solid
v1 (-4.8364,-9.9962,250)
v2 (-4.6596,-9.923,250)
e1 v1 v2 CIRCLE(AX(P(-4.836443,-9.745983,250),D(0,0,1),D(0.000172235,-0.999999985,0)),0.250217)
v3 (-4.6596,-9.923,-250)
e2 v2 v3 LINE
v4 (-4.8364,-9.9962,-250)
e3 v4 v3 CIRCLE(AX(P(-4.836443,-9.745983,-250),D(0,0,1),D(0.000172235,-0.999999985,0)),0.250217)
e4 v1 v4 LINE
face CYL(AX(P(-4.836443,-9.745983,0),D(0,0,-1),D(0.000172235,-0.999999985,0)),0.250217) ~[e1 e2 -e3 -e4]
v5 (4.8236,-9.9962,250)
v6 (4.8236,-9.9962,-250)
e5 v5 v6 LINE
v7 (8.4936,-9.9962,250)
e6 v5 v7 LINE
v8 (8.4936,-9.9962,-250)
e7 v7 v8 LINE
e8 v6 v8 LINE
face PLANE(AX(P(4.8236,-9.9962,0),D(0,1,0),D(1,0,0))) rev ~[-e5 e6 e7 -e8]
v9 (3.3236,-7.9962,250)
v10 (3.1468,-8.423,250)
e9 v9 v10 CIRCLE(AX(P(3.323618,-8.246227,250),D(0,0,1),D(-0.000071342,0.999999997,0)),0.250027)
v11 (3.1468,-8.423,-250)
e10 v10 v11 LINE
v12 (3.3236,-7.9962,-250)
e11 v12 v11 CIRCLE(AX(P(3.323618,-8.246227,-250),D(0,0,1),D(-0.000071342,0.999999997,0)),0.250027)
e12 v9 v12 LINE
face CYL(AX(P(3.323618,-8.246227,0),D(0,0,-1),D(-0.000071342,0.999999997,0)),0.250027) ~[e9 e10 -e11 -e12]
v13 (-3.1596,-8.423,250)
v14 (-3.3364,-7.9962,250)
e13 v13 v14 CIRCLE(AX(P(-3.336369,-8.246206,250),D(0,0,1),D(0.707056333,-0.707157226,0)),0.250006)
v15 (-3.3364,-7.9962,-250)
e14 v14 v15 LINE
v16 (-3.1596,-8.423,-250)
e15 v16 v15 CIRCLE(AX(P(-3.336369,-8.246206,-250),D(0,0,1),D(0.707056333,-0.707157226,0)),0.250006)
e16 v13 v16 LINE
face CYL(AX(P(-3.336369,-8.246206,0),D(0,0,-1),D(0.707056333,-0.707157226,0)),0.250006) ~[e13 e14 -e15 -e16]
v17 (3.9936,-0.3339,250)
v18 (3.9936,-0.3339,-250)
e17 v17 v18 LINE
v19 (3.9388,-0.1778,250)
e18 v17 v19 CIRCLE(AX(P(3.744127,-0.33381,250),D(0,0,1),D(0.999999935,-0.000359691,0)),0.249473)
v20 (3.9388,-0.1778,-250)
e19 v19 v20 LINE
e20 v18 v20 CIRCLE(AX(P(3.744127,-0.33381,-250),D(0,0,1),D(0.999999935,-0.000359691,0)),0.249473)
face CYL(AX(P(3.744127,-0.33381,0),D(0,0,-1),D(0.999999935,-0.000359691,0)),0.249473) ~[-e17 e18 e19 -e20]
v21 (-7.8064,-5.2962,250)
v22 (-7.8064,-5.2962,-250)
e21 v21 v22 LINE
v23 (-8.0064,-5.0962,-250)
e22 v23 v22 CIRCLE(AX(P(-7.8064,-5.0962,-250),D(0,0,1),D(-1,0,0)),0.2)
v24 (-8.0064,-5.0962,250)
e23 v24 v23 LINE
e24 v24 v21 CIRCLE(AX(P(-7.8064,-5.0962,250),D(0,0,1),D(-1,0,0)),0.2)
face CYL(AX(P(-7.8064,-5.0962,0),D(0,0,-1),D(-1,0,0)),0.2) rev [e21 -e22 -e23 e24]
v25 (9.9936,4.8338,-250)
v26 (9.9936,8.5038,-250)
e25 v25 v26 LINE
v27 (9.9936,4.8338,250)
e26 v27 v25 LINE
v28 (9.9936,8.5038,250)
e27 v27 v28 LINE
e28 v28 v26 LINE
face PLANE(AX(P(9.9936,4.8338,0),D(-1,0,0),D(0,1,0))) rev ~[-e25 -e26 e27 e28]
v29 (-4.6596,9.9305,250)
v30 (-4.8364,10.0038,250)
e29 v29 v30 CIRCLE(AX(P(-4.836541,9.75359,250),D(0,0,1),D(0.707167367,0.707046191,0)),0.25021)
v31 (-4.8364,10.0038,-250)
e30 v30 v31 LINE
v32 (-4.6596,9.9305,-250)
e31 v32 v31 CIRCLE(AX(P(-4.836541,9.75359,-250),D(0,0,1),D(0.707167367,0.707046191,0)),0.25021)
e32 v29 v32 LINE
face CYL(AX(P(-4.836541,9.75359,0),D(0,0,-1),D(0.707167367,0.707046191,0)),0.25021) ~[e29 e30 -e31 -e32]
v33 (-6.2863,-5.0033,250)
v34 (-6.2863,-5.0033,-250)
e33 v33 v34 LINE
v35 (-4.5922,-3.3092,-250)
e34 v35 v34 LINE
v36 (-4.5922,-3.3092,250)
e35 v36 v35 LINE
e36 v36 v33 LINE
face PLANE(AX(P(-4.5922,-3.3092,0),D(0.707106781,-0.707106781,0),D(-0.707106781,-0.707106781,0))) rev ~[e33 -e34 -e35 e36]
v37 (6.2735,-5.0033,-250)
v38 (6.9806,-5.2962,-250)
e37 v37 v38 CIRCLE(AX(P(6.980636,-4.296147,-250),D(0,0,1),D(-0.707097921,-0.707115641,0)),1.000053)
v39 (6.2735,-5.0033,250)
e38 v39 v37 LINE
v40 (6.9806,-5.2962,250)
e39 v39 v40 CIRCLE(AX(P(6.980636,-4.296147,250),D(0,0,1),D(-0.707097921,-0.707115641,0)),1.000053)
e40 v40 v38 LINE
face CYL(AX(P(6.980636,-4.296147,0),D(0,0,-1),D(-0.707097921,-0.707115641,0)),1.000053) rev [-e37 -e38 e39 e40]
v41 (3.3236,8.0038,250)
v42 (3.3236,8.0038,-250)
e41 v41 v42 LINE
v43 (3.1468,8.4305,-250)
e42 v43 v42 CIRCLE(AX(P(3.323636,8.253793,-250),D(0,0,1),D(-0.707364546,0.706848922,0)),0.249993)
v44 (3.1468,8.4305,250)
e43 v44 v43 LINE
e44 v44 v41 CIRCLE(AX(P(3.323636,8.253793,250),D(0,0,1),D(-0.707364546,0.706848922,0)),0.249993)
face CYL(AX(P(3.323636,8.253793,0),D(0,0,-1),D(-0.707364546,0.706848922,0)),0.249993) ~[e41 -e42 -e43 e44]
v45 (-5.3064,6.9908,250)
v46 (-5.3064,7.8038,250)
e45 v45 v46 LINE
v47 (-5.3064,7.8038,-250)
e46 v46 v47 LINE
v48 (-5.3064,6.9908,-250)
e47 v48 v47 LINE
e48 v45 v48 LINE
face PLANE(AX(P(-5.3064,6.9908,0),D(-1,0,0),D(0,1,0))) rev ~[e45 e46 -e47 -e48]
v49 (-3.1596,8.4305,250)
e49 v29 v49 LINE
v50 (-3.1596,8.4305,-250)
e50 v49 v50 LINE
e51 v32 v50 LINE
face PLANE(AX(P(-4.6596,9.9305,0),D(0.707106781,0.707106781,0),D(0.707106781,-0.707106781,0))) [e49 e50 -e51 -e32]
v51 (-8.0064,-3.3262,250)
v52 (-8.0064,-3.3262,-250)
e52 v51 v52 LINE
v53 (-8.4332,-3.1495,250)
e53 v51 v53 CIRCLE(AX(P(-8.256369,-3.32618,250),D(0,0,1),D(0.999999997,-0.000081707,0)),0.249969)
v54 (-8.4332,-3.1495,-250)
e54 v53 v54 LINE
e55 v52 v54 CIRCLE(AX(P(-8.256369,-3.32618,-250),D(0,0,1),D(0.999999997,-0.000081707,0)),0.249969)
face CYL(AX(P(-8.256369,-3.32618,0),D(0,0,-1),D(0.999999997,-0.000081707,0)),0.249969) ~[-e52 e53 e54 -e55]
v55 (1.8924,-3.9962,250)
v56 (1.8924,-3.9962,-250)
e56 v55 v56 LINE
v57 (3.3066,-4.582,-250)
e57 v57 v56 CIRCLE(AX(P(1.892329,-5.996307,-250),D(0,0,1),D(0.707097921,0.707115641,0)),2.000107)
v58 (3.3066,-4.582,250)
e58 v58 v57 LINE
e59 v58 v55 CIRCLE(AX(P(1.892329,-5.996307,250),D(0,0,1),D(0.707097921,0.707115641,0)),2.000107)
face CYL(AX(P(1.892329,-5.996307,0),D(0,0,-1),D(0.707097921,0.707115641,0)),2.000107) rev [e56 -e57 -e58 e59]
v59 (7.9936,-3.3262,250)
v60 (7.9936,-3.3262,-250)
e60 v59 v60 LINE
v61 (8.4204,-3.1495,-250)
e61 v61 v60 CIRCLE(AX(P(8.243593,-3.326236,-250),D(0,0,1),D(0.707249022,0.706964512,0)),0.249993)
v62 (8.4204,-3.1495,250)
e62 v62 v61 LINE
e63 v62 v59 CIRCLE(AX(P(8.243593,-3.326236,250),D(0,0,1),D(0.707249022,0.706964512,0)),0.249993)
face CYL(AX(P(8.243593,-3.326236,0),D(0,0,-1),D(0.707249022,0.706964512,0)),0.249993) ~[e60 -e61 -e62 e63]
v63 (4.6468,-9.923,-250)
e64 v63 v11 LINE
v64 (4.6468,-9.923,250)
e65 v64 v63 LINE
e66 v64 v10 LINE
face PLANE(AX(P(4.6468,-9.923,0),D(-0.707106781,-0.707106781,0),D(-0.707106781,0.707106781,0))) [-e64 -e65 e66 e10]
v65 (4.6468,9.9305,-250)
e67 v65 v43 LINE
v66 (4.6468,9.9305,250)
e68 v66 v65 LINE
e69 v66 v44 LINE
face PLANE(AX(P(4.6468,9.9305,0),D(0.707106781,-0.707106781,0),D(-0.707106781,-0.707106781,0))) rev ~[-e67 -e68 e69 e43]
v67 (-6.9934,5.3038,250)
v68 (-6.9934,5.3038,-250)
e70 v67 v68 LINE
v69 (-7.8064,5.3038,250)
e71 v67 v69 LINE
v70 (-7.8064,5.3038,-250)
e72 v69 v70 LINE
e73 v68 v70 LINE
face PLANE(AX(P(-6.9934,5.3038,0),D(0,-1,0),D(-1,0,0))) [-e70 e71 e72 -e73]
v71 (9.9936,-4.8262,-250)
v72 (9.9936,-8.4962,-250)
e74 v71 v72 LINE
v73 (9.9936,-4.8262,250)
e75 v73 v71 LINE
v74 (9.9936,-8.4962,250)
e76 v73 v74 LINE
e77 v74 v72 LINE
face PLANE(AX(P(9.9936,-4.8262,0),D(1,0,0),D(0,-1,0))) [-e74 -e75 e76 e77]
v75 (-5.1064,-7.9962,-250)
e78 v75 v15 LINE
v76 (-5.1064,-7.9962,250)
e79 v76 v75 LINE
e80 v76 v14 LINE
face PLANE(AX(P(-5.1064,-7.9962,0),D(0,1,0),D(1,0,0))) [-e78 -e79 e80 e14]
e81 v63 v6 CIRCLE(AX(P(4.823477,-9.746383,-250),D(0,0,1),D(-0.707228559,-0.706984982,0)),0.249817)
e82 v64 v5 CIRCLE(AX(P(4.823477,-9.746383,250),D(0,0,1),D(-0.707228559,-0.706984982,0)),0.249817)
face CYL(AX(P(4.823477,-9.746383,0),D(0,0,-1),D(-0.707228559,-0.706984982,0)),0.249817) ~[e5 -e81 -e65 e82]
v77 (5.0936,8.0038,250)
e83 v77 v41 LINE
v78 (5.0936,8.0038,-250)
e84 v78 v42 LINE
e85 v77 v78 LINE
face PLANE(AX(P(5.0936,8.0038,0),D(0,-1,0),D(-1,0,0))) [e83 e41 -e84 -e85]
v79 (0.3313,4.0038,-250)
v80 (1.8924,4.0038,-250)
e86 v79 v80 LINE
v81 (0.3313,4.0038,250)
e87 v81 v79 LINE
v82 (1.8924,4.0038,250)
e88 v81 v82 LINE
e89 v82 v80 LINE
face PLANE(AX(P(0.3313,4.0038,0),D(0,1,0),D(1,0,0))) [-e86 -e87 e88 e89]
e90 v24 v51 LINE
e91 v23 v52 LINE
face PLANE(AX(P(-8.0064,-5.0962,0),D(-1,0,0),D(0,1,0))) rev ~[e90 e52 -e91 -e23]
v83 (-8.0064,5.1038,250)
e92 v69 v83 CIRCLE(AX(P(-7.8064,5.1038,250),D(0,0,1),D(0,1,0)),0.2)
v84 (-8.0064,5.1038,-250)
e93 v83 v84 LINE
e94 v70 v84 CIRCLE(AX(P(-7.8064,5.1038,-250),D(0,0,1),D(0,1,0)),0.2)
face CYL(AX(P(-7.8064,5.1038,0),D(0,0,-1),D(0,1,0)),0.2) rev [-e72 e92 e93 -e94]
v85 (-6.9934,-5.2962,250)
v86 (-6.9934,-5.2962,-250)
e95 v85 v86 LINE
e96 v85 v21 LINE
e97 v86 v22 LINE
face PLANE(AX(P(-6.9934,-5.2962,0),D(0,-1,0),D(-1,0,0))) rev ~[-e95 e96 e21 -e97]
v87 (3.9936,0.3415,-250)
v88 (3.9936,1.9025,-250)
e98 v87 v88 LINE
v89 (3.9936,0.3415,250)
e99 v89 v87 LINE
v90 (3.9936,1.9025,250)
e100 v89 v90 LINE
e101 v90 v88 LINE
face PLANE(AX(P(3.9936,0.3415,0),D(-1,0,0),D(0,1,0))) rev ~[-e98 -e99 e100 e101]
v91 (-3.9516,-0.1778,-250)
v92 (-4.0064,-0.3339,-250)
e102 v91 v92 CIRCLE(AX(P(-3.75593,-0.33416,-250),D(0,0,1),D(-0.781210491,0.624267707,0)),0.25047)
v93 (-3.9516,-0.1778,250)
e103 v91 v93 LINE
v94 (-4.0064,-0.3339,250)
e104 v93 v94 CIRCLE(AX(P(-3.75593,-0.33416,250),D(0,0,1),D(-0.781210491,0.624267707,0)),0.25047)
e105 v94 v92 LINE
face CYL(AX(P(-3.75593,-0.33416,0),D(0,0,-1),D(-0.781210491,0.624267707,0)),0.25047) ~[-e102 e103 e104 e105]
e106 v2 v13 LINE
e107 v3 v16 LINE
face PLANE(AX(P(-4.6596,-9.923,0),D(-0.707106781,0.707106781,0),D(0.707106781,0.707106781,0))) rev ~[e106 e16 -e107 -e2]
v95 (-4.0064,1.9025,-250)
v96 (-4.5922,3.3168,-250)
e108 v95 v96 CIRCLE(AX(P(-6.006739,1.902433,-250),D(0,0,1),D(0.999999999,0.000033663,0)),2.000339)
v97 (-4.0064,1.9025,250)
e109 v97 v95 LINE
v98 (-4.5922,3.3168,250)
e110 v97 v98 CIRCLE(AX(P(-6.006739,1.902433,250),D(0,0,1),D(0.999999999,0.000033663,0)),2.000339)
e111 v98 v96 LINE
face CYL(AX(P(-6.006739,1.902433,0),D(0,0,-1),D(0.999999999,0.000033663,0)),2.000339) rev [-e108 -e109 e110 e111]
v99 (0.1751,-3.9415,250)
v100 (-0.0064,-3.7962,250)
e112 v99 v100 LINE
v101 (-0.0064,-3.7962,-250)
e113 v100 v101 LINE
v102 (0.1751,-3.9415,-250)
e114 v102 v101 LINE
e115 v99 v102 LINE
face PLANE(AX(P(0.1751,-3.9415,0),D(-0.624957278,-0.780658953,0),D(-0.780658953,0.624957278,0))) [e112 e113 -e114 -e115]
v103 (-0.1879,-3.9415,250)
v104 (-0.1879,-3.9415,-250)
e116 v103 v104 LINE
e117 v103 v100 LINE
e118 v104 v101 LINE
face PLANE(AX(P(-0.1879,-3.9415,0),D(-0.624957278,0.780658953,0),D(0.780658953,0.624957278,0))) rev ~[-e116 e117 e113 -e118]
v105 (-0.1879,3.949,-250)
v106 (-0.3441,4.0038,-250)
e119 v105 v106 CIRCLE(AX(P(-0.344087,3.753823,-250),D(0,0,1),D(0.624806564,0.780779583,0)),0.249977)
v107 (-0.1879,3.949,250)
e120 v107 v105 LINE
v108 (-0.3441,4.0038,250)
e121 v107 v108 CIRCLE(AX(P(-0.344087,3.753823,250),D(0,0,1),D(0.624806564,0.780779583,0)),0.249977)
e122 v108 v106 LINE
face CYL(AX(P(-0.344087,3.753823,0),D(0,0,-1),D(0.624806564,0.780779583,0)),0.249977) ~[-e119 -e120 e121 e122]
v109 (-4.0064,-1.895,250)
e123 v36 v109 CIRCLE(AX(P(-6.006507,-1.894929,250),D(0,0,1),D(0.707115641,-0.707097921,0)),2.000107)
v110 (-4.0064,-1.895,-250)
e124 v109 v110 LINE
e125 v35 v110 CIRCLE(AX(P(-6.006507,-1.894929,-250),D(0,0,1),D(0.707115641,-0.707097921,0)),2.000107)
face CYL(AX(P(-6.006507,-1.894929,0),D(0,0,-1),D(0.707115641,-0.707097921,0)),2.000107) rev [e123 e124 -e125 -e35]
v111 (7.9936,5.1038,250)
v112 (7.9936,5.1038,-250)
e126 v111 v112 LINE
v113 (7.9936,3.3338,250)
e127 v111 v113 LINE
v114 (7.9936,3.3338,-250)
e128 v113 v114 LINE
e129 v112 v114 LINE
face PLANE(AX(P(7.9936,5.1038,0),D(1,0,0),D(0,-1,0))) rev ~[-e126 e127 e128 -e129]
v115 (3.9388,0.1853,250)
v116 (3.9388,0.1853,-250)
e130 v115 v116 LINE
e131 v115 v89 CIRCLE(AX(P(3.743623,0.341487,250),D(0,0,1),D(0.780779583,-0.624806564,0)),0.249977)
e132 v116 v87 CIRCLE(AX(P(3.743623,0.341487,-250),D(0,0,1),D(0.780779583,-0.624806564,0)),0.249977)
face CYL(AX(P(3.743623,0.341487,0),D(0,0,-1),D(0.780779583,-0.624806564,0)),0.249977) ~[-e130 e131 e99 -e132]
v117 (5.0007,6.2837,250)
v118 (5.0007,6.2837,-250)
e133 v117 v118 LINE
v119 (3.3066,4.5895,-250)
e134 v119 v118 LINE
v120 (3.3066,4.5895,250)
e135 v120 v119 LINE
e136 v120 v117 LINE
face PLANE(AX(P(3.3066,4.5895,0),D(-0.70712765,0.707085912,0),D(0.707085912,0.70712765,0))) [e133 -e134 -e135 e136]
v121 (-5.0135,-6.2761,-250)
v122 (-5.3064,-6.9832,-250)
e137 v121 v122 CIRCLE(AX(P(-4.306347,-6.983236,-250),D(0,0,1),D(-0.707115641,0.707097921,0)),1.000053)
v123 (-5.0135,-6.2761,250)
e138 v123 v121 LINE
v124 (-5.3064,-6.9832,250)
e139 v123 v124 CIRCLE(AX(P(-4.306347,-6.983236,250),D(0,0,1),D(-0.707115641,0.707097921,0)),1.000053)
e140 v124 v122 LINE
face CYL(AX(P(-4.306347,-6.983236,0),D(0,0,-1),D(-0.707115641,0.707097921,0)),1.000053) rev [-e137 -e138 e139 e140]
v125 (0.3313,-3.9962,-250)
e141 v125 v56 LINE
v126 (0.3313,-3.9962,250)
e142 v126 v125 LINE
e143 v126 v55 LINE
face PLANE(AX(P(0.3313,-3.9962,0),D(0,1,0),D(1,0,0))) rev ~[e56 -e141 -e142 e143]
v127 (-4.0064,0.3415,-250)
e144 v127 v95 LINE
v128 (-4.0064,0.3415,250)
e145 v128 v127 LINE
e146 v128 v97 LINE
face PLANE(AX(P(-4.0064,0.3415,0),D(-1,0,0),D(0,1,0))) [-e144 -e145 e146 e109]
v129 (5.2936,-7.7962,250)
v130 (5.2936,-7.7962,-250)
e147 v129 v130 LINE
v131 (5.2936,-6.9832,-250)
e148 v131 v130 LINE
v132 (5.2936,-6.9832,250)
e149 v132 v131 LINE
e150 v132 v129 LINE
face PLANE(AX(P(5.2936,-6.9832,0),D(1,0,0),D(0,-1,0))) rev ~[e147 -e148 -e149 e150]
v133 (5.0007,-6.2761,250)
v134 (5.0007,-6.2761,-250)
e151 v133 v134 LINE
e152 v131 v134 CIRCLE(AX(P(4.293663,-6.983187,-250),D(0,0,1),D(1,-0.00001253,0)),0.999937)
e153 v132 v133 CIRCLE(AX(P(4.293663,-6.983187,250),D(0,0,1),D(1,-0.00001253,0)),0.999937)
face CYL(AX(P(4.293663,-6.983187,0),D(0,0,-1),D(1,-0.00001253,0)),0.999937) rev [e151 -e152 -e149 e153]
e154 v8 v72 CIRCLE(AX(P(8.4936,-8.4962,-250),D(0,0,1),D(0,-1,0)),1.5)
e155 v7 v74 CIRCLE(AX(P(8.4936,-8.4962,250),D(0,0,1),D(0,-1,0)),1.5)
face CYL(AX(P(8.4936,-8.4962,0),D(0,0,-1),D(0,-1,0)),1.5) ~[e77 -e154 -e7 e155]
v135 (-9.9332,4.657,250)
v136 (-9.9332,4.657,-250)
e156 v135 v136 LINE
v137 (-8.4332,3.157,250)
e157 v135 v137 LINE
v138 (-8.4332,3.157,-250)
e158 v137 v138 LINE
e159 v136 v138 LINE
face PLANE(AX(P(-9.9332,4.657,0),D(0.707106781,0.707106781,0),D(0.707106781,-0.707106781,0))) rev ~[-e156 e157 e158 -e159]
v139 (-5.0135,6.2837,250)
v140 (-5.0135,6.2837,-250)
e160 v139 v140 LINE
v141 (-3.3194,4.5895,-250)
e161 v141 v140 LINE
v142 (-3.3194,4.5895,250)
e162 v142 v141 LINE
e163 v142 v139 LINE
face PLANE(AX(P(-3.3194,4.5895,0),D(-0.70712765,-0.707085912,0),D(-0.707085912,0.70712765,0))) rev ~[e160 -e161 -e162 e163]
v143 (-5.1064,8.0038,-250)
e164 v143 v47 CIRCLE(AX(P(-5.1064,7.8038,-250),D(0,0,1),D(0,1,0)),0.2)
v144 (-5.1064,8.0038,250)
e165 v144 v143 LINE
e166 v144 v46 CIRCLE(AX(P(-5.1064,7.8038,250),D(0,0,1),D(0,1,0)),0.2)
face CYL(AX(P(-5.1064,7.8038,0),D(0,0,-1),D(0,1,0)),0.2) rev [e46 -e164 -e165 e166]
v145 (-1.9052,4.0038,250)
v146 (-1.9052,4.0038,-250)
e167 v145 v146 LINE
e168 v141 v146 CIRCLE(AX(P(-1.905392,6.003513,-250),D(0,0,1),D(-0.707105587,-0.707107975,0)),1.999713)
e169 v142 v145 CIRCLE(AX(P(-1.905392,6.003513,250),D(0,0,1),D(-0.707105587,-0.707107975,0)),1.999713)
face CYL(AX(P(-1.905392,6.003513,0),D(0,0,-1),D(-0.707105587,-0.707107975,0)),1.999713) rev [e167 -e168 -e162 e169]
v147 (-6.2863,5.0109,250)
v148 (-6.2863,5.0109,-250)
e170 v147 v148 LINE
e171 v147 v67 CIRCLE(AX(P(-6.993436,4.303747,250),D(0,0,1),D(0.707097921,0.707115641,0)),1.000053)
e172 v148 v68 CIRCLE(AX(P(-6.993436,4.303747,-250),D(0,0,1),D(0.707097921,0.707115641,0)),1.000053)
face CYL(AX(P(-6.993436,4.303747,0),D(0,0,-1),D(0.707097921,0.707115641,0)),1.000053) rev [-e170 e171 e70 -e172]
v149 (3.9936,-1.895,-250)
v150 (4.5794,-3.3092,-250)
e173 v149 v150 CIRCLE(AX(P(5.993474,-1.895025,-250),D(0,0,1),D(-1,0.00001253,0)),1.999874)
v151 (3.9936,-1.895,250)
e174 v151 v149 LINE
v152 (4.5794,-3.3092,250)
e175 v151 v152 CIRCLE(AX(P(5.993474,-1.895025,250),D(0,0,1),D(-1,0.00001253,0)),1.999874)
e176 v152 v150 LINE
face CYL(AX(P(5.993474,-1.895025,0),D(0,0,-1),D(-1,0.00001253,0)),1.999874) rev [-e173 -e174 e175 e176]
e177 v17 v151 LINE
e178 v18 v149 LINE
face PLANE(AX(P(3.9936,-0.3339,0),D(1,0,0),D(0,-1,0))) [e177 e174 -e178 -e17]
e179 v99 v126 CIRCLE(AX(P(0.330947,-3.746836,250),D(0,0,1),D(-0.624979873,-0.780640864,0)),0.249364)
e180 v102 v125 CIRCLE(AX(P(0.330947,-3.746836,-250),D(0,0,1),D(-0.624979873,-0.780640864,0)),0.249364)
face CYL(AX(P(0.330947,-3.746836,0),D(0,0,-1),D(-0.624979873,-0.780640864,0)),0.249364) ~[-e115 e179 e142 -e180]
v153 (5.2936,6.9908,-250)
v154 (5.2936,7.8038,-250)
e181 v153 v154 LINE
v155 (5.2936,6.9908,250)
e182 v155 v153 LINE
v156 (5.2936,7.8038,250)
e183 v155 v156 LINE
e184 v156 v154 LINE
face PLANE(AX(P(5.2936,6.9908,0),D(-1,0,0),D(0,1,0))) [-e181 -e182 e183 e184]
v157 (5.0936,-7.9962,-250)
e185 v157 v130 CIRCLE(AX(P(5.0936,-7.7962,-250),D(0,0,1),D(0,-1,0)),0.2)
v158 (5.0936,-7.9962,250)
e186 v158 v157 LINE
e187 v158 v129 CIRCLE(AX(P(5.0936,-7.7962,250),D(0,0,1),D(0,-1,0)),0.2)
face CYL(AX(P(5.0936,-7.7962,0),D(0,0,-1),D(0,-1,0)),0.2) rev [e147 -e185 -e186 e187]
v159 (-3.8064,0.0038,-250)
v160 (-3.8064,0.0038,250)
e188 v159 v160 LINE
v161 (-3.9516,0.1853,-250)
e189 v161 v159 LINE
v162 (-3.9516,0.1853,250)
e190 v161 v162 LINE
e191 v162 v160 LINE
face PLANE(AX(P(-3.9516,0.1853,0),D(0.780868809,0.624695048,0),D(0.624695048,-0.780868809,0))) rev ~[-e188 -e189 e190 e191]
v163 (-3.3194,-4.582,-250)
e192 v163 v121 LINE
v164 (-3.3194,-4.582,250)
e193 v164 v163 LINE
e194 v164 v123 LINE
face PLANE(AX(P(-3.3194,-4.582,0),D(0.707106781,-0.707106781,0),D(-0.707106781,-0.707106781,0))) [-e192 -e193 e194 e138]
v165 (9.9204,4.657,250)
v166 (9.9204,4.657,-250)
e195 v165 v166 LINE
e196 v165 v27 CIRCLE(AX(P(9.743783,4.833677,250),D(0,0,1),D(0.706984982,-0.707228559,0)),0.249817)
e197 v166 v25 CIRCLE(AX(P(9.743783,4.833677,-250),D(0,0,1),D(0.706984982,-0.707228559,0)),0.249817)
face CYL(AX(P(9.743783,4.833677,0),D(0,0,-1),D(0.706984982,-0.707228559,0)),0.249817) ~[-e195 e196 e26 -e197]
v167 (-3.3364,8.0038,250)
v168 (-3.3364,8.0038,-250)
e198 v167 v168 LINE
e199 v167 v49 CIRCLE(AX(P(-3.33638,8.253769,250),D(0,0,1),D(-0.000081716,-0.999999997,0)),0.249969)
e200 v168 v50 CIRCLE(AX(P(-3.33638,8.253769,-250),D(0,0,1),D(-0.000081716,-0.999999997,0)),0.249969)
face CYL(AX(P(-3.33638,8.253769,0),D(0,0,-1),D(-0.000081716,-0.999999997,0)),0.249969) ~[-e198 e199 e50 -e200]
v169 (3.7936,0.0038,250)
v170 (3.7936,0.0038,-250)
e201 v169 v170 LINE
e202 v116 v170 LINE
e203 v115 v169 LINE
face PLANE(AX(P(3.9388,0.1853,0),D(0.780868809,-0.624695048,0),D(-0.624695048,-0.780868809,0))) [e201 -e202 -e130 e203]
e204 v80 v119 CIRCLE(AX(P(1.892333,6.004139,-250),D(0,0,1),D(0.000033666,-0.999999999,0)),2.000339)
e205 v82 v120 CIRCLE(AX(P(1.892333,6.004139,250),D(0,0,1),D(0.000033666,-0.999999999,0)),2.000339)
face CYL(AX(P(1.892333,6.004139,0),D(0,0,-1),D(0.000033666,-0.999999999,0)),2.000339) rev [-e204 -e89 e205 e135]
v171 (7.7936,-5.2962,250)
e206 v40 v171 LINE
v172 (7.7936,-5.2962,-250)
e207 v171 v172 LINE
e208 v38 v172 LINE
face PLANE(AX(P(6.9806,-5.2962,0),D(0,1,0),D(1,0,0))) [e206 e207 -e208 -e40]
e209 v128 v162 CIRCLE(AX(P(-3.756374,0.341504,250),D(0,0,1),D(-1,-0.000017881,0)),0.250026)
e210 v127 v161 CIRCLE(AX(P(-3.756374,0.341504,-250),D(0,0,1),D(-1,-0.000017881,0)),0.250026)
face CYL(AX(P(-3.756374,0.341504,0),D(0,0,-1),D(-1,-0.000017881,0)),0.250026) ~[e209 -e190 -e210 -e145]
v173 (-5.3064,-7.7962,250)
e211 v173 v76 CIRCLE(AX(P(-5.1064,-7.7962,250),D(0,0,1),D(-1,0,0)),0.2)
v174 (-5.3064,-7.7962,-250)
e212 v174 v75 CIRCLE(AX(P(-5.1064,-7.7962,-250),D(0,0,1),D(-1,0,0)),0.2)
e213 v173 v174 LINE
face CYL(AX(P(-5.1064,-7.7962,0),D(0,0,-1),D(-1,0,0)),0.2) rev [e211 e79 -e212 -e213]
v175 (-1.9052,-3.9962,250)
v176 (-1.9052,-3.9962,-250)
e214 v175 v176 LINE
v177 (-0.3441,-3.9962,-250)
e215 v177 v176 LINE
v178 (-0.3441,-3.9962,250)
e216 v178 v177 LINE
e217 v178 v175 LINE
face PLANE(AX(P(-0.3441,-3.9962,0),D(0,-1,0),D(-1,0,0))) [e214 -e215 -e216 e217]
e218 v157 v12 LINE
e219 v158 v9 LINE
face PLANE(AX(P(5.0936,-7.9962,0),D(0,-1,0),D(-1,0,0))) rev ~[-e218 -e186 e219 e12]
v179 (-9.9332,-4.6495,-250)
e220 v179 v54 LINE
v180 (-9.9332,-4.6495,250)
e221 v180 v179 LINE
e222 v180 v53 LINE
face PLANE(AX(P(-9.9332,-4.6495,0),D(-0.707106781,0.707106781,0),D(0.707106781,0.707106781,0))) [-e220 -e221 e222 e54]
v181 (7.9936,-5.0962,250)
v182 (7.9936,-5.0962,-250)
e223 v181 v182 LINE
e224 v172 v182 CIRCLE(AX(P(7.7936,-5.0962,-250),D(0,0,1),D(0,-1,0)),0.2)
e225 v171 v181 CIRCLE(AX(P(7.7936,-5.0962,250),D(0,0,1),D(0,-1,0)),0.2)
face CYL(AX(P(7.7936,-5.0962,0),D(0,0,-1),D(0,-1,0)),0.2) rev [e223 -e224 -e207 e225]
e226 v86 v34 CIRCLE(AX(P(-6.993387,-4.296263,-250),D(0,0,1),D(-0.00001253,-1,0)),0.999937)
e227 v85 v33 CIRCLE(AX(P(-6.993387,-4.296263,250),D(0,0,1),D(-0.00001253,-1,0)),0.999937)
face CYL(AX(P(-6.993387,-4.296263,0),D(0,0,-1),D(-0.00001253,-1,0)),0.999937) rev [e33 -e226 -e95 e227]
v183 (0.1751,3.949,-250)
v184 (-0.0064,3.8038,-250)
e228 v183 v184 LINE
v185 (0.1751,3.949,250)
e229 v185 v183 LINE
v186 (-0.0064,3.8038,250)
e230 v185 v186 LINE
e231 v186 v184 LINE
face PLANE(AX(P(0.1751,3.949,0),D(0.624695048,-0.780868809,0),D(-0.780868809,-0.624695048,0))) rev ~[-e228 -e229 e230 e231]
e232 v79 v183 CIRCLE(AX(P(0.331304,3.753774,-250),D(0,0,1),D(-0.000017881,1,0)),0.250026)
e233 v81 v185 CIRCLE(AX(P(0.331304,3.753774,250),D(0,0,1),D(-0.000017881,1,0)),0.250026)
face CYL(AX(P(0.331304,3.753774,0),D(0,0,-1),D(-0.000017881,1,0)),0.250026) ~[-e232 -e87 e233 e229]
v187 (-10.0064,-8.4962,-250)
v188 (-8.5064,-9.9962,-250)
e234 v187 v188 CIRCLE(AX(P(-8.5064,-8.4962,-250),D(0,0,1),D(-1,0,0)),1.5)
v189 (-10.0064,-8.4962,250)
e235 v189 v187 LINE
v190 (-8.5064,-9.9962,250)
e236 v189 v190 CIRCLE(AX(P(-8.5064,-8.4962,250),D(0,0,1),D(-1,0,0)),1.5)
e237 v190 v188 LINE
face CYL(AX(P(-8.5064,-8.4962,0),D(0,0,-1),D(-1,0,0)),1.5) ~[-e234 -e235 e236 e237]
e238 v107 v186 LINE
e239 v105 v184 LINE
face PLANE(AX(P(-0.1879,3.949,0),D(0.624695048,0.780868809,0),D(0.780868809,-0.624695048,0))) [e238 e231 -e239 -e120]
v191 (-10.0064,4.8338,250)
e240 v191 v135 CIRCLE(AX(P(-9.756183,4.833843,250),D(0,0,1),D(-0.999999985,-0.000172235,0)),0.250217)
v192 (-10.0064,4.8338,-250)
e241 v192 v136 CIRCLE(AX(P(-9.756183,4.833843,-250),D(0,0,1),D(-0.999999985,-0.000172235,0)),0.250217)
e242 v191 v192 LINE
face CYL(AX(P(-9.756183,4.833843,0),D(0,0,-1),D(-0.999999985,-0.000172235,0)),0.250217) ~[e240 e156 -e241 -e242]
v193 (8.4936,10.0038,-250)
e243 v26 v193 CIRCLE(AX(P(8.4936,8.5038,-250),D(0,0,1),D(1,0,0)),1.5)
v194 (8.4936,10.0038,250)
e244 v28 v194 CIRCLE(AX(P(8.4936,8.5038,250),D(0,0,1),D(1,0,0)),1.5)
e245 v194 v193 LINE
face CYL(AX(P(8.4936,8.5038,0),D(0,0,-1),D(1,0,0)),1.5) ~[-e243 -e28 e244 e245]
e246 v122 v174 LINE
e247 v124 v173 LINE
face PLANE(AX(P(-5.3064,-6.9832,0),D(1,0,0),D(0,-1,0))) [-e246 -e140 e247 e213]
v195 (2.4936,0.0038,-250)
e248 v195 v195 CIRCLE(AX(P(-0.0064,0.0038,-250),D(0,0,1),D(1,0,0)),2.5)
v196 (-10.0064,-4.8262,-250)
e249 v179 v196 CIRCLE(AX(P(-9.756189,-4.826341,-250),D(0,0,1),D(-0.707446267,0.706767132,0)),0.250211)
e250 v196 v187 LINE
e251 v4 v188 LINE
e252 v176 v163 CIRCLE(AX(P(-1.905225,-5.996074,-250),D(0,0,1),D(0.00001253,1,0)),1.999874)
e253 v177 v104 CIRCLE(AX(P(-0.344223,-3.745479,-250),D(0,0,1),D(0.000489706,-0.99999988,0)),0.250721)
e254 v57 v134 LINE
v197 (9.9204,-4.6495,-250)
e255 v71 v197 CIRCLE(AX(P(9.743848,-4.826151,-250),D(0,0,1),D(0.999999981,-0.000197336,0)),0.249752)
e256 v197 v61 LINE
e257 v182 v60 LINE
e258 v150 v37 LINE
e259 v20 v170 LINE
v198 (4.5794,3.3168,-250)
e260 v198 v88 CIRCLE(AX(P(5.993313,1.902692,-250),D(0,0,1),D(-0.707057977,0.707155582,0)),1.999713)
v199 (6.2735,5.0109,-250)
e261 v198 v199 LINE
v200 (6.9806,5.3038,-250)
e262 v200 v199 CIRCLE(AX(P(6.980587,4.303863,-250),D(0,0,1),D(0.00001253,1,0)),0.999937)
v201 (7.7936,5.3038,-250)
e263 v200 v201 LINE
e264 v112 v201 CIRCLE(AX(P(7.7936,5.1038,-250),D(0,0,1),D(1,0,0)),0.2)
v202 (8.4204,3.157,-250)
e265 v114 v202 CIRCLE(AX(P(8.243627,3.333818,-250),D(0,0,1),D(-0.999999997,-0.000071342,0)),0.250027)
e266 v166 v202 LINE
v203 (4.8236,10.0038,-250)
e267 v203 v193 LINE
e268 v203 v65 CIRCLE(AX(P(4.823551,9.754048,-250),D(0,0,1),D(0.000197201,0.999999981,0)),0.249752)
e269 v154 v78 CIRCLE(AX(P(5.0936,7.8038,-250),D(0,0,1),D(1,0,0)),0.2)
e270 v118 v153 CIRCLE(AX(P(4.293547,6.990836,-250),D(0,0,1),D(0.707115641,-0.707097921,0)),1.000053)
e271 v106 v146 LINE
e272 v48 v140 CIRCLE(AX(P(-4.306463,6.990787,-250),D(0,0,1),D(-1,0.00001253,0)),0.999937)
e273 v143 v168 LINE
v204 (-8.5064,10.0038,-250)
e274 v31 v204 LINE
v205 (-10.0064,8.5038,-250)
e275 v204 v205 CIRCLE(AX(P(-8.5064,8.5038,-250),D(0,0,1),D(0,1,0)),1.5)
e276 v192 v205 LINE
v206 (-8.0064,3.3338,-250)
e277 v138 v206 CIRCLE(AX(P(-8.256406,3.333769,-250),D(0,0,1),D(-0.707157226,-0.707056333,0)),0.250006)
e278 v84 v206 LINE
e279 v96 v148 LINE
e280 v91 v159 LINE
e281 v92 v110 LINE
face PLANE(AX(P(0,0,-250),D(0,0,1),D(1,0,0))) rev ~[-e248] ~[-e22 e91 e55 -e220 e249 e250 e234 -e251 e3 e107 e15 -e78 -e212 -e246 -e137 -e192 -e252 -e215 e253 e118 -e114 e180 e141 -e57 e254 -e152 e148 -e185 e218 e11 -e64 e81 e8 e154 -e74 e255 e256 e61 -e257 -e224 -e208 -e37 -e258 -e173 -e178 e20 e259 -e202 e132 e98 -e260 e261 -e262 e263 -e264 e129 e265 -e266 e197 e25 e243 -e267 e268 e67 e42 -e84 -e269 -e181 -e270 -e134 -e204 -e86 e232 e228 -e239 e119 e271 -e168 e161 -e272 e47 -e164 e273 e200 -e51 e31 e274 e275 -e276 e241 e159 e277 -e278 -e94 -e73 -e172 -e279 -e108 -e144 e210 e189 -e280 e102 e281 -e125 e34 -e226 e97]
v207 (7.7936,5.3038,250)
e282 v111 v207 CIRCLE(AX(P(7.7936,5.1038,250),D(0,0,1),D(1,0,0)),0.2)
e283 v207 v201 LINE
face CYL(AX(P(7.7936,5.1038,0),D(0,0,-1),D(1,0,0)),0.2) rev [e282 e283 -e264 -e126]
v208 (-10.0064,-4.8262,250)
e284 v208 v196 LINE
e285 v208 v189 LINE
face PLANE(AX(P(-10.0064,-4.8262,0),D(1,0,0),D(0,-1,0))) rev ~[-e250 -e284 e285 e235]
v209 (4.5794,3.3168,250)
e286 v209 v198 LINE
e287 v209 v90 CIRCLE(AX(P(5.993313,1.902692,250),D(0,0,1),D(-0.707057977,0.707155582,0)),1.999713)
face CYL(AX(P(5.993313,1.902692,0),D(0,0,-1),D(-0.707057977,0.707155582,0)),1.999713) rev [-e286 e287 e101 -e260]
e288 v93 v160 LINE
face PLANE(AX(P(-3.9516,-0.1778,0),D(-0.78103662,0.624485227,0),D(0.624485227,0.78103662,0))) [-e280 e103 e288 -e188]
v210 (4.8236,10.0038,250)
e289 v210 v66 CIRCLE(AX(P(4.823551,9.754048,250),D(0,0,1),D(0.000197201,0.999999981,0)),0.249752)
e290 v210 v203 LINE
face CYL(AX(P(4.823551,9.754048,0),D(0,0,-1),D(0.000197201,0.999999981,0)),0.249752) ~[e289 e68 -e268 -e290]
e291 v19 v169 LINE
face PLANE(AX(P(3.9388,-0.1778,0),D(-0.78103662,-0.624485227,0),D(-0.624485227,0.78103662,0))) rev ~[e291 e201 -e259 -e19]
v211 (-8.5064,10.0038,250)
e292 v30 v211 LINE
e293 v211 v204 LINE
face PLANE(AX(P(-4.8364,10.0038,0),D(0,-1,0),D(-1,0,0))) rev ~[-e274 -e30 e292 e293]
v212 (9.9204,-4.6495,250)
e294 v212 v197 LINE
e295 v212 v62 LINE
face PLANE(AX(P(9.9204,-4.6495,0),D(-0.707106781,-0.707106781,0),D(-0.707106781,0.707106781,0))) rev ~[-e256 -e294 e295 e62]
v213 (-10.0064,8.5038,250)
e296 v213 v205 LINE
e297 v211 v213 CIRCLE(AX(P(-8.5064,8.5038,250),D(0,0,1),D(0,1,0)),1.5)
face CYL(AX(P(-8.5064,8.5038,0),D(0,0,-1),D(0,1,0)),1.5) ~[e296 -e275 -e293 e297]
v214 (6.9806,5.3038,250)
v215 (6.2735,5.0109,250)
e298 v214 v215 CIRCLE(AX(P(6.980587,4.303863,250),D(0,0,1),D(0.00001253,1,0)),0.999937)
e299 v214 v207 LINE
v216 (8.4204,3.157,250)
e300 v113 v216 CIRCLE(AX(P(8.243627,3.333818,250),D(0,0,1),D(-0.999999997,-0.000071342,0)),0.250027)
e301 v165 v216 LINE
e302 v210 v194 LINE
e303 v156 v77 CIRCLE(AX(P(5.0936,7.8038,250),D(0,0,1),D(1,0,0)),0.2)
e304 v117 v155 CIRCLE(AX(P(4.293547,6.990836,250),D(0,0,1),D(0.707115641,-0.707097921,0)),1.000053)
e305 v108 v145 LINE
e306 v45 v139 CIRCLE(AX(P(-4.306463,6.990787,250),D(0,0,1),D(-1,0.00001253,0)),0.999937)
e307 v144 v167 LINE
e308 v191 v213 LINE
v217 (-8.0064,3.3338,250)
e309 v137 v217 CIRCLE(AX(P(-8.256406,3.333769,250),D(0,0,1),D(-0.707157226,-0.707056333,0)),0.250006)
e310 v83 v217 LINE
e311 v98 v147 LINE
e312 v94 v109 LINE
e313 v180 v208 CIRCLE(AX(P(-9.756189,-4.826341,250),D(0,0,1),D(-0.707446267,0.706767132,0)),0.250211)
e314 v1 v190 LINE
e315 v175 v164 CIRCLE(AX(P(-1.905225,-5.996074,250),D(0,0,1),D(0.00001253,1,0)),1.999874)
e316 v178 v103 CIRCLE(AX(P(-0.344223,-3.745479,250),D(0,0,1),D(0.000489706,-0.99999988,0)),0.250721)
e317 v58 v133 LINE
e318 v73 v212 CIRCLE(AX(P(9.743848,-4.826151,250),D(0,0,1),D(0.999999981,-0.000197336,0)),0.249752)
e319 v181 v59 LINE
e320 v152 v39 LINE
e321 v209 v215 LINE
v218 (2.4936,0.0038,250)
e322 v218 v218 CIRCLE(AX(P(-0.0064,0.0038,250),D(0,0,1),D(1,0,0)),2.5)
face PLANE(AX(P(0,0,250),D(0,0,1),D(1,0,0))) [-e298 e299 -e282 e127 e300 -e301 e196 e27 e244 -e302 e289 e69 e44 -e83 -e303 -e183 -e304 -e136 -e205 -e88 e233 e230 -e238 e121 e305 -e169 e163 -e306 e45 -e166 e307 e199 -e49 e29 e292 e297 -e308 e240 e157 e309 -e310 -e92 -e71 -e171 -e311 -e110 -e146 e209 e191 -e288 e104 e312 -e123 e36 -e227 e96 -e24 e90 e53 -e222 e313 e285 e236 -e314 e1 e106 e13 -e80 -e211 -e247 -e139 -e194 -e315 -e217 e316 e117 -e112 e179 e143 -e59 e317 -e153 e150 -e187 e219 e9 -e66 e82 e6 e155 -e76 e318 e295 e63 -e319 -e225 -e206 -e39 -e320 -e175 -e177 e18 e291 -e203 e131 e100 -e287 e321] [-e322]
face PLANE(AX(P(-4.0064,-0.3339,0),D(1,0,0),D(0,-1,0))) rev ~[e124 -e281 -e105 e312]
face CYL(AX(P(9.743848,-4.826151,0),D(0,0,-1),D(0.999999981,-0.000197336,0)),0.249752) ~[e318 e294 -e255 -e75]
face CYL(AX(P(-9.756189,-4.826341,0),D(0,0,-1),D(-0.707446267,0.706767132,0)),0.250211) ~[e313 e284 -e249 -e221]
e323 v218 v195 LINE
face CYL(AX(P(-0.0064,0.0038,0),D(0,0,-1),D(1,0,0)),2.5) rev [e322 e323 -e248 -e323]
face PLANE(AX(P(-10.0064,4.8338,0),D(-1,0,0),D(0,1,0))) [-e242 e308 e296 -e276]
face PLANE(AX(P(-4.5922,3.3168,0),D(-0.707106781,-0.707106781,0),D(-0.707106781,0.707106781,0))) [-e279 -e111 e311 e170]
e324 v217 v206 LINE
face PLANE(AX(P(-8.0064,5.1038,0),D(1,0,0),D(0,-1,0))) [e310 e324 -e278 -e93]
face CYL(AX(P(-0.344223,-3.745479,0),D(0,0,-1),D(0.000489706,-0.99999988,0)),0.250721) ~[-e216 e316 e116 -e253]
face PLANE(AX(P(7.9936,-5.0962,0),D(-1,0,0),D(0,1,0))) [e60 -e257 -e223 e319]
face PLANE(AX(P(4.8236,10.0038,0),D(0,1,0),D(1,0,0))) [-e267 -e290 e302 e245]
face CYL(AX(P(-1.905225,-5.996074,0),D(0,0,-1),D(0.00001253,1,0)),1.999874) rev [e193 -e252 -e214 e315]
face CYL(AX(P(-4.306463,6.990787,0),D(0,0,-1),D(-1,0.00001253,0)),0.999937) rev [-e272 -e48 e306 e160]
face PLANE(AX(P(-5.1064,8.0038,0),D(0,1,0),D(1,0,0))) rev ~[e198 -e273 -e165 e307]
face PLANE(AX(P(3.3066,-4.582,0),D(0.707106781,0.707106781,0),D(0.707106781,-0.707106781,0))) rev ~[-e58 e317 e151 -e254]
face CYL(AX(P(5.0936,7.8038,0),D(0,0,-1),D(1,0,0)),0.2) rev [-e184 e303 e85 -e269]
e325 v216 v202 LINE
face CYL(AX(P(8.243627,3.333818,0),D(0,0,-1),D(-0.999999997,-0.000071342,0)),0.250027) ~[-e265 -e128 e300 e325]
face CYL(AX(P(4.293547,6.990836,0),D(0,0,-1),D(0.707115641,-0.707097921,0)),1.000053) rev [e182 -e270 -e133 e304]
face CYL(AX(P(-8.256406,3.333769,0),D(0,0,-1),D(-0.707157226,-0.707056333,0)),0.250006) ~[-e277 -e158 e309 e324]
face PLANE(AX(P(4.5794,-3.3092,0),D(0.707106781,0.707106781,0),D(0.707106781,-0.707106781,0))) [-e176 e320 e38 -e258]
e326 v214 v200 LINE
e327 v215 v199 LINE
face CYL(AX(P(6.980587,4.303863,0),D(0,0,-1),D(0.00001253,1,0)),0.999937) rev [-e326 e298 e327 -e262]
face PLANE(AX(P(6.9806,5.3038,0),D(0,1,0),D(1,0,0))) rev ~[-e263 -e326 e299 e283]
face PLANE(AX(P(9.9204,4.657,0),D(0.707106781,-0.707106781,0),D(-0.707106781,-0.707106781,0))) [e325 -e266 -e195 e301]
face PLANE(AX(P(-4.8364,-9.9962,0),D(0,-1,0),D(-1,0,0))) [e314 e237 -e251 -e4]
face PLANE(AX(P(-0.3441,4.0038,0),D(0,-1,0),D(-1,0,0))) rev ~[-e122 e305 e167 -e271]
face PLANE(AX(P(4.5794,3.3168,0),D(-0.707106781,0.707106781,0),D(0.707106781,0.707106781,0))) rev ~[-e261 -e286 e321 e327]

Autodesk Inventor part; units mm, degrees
ref_plane "YZ Plane" through (0, 0, 0) normal (1, 0, 0) x (0, 1, 0)
ref_plane "XZ Plane" through (0, 0, 0) normal (0, 1, 0) x (-1, 0, 0)
ref_plane "XY Plane" through (0, 0, 0) normal (0, 0, 1) x (1, 0, 0)
sketch "Эскиз1" plane through (0, 0, 0) normal (0, 0, 1) x (1, 0, 0)
  line L0 (-3.9516, 0.1853) -> (-3.8064, 0.0038)
  line L1 (-3.9516, -0.1778) -> (-3.8064, 0.0038)
  arc A0 (-3.9516, -0.1778) -> (-4.0064, -0.3339) centre (-3.7564, -0.3339) ccw
  line L2 (-4.0064, -0.3339) -> (-4.0064, -1.895)
  arc A1 (-4.5922, -3.3092) -> (-4.0064, -1.895) centre (-6.0064, -1.895) ccw
  line L3 (-4.5922, -3.3092) -> (-6.2863, -5.0033)
  arc A2 (-6.9934, -5.2962) -> (-6.2863, -5.0033) centre (-6.9934, -4.2962) ccw
  line L4 (-6.9934, -5.2962) -> (-7.8064, -5.2962)
  arc A3 (-8.0064, -5.0962) -> (-7.8064, -5.2962) centre (-7.8064, -5.0962) ccw
  line L5 (-8.0064, -5.0962) -> (-8.0064, -3.3262)
  arc A4 (-8.0064, -3.3262) -> (-8.4332, -3.1495) centre (-8.2564, -3.3262) ccw
  line L6 (-9.9332, -4.6495) -> (-8.4332, -3.1495)
  arc A5 (-9.9332, -4.6495) -> (-10.0064, -4.8262) centre (-9.7564, -4.8262) ccw
  line L7 (-10.0064, -4.8262) -> (-10.0064, -8.4962)
  arc A6 (-10.0064, -8.4962) -> (-8.5064, -9.9962) centre (-8.5064, -8.4962) ccw
  line L8 (-4.8364, -9.9962) -> (-8.5064, -9.9962)
  arc A7 (-4.8364, -9.9962) -> (-4.6596, -9.923) centre (-4.8364, -9.7462) ccw
  line L9 (-4.6596, -9.923) -> (-3.1596, -8.423)
  arc A8 (-3.1596, -8.423) -> (-3.3364, -7.9962) centre (-3.3364, -8.2462) ccw
  line L10 (-5.1064, -7.9962) -> (-3.3364, -7.9962)
  arc A9 (-5.3064, -7.7962) -> (-5.1064, -7.9962) centre (-5.1064, -7.7962) ccw
  line L11 (-5.3064, -6.9832) -> (-5.3064, -7.7962)
  arc A10 (-5.0135, -6.2761) -> (-5.3064, -6.9832) centre (-4.3064, -6.9832) ccw
  line L12 (-3.3194, -4.582) -> (-5.0135, -6.2761)
  arc A11 (-1.9052, -3.9962) -> (-3.3194, -4.582) centre (-1.9052, -5.9962) ccw
  line L13 (-0.3441, -3.9962) -> (-1.9052, -3.9962)
  arc A12 (-0.3441, -3.9962) -> (-0.1879, -3.9415) centre (-0.3441, -3.7462) ccw
  line L14 (-0.1879, -3.9415) -> (-0.0064, -3.7962)
  line L15 (0.1751, -3.9415) -> (-0.0064, -3.7962)
  arc A13 (0.1751, -3.9415) -> (0.3313, -3.9962) centre (0.3313, -3.7462) ccw
  line L16 (0.3313, -3.9962) -> (1.8924, -3.9962)
  arc A14 (3.3066, -4.582) -> (1.8924, -3.9962) centre (1.8924, -5.9962) ccw
  line L17 (3.3066, -4.582) -> (5.0007, -6.2761)
  arc A15 (5.2936, -6.9832) -> (5.0007, -6.2761) centre (4.2936, -6.9832) ccw
  line L18 (5.2936, -6.9832) -> (5.2936, -7.7962)
  arc A16 (5.0936, -7.9962) -> (5.2936, -7.7962) centre (5.0936, -7.7962) ccw
  line L19 (5.0936, -7.9962) -> (3.3236, -7.9962)
  arc A17 (3.3236, -7.9962) -> (3.1468, -8.423) centre (3.3236, -8.2462) ccw
  line L20 (4.6468, -9.923) -> (3.1468, -8.423)
  arc A18 (4.6468, -9.923) -> (4.8236, -9.9962) centre (4.8236, -9.7462) ccw
  line L21 (4.8236, -9.9962) -> (8.4936, -9.9962)
  arc A19 (8.4936, -9.9962) -> (9.9936, -8.4962) centre (8.4936, -8.4962) ccw
  line L22 (9.9936, -4.8262) -> (9.9936, -8.4962)
  arc A20 (9.9936, -4.8262) -> (9.9204, -4.6495) centre (9.7436, -4.8262) ccw
  line L23 (9.9204, -4.6495) -> (8.4204, -3.1495)
  arc A21 (8.4204, -3.1495) -> (7.9936, -3.3262) centre (8.2436, -3.3262) ccw
  line L24 (7.9936, -5.0962) -> (7.9936, -3.3262)
  arc A22 (7.7936, -5.2962) -> (7.9936, -5.0962) centre (7.7936, -5.0962) ccw
  line L25 (6.9806, -5.2962) -> (7.7936, -5.2962)
  arc A23 (6.2735, -5.0033) -> (6.9806, -5.2962) centre (6.9806, -4.2962) ccw
  line L26 (4.5794, -3.3092) -> (6.2735, -5.0033)
  arc A24 (3.9936, -1.895) -> (4.5794, -3.3092) centre (5.9936, -1.895) ccw
  line L27 (3.9936, -0.3339) -> (3.9936, -1.895)
  arc A25 (3.9936, -0.3339) -> (3.9388, -0.1778) centre (3.7436, -0.3339) ccw
  line L28 (3.9388, -0.1778) -> (3.7936, 0.0038)
  line L29 (3.9388, 0.1853) -> (3.7936, 0.0038)
  arc A26 (3.9388, 0.1853) -> (3.9936, 0.3415) centre (3.7436, 0.3415) ccw
  line L30 (3.9936, 0.3415) -> (3.9936, 1.9025)
  arc A27 (4.5794, 3.3168) -> (3.9936, 1.9025) centre (5.9936, 1.9025) ccw
  line L31 (4.5794, 3.3168) -> (6.2735, 5.0109)
  arc A28 (6.9806, 5.3038) -> (6.2735, 5.0109) centre (6.9806, 4.3038) ccw
  line L32 (6.9806, 5.3038) -> (7.7936, 5.3038)
  arc A29 (7.9936, 5.1038) -> (7.7936, 5.3038) centre (7.7936, 5.1038) ccw
  line L33 (7.9936, 5.1038) -> (7.9936, 3.3338)
  arc A30 (7.9936, 3.3338) -> (8.4204, 3.157) centre (8.2436, 3.3338) ccw
  line L34 (9.9204, 4.657) -> (8.4204, 3.157)
  arc A31 (9.9204, 4.657) -> (9.9936, 4.8338) centre (9.7436, 4.8338) ccw
  line L35 (9.9936, 4.8338) -> (9.9936, 8.5038)
  arc A32 (9.9936, 8.5038) -> (8.4936, 10.0038) centre (8.4936, 8.5038) ccw
  line L36 (4.8236, 10.0038) -> (8.4936, 10.0038)
  arc A33 (4.8236, 10.0038) -> (4.6468, 9.9305) centre (4.8236, 9.7538) ccw
  line L37 (4.6468, 9.9305) -> (3.1468, 8.4305)
  arc A34 (3.1468, 8.4305) -> (3.3236, 8.0038) centre (3.3236, 8.2538) ccw
  line L38 (5.0936, 8.0038) -> (3.3236, 8.0038)
  arc A35 (5.2936, 7.8038) -> (5.0936, 8.0038) centre (5.0936, 7.8038) ccw
  line L39 (5.2936, 6.9908) -> (5.2936, 7.8038)
  arc A36 (5.0007, 6.2837) -> (5.2936, 6.9908) centre (4.2936, 6.9908) ccw
  line L40 (3.3066, 4.5895) -> (5.0007, 6.2837)
  arc A37 (1.8924, 4.0038) -> (3.3066, 4.5895) centre (1.8924, 6.0038) ccw
  line L41 (0.3313, 4.0038) -> (1.8924, 4.0038)
  arc A38 (0.3313, 4.0038) -> (0.1751, 3.949) centre (0.3313, 3.7538) ccw
  line L42 (0.1751, 3.949) -> (-0.0064, 3.8038)
  line L43 (-0.1879, 3.949) -> (-0.0064, 3.8038)
  arc A39 (-0.1879, 3.949) -> (-0.3441, 4.0038) centre (-0.3441, 3.7538) ccw
  line L44 (-0.3441, 4.0038) -> (-1.9052, 4.0038)
  arc A40 (-3.3194, 4.5895) -> (-1.9052, 4.0038) centre (-1.9052, 6.0038) ccw
  line L45 (-3.3194, 4.5895) -> (-5.0135, 6.2837)
  arc A41 (-5.3064, 6.9908) -> (-5.0135, 6.2837) centre (-4.3064, 6.9908) ccw
  line L46 (-5.3064, 6.9908) -> (-5.3064, 7.8038)
  arc A42 (-5.1064, 8.0038) -> (-5.3064, 7.8038) centre (-5.1064, 7.8038) ccw
  line L47 (-5.1064, 8.0038) -> (-3.3364, 8.0038)
  arc A43 (-3.3364, 8.0038) -> (-3.1596, 8.4305) centre (-3.3364, 8.2538) ccw
  line L48 (-4.6596, 9.9305) -> (-3.1596, 8.4305)
  arc A44 (-4.6596, 9.9305) -> (-4.8364, 10.0038) centre (-4.8364, 9.7538) ccw
  line L49 (-4.8364, 10.0038) -> (-8.5064, 10.0038)
  arc A45 (-8.5064, 10.0038) -> (-10.0064, 8.5038) centre (-8.5064, 8.5038) ccw
  line L50 (-10.0064, 4.8338) -> (-10.0064, 8.5038)
  arc A46 (-10.0064, 4.8338) -> (-9.9332, 4.657) centre (-9.7564, 4.8338) ccw
  line L51 (-9.9332, 4.657) -> (-8.4332, 3.157)
  arc A47 (-8.4332, 3.157) -> (-8.0064, 3.3338) centre (-8.2564, 3.3338) ccw
  line L52 (-8.0064, 5.1038) -> (-8.0064, 3.3338)
  arc A48 (-7.8064, 5.3038) -> (-8.0064, 5.1038) centre (-7.8064, 5.1038) ccw
  line L53 (-6.9934, 5.3038) -> (-7.8064, 5.3038)
  arc A49 (-6.2863, 5.0109) -> (-6.9934, 5.3038) centre (-6.9934, 4.3038) ccw
  line L54 (-4.5922, 3.3168) -> (-6.2863, 5.0109)
  arc A50 (-4.0064, 1.9025) -> (-4.5922, 3.3168) centre (-6.0064, 1.9025) ccw
  line L55 (-4.0064, 0.3415) -> (-4.0064, 1.9025)
  arc A51 (-4.0064, 0.3415) -> (-3.9516, 0.1853) centre (-3.7564, 0.3415) ccw
  circle A52 centre (-0.0064, 0.0038) radius 2.5
  point P0 (0, 0)
  point P1 (-0.0064, 0.0038)
  dimension "d0" = 0.25
  dimension "d1" = 1.5
  dimension "d2" = 0.2
  dimension "d3" = 1
  dimension "d4" = 2
  dimension "d5" = 5
  dimension "d6" = 135
  dimension "d7" = 38.66
  dimension "d8" = 38.66
  dimension "d9" = 45
  dimension "d10" = 2
  dimension "d11" = 4.7
  dimension "d12" = 14
  dimension "d13" = 15.3
  dimension "d14" = 20
  dimension "d15" = 2.829
  dimension "d16" = 4.629
  dimension "d17" = 7.4579
  dimension "d18" = 2.829
  dimension "d19" = 4.629
  dimension "d20" = 7.4579
  dimension "d21" = 10.6
  dimension "d22" = 4.7
  dimension "d23" = 15.3
  dimension "d24" = 2.7
  dimension "d25" = 13.3
  dimension "d26" = 5.9346
  dimension "d27" = 5.9346
  dimension "d28" = 5.9346
  dimension "d29" = 5.9346
  dimension "d30" = 9.9936
  dimension "d31" = 3.7218
  dimension "d32" = 3.7271
  dimension "d33" = 5.3038
  dimension "d34" = 2.96
  dimension "d35" = 2.9647
  dimension "d36" = 2.9742
  dimension "d37" = 2.9684
  dimension "d38" = 8.0064
  dimension "d39" = 10
  dimension "d40" = 3.729
  dimension "d41" = 10
  dimension "d42" = 3.729
extrude "Выдавливание1" add sketch "Эскиз1" along normal mid plane 500
properties part number "AP20x20x500"
